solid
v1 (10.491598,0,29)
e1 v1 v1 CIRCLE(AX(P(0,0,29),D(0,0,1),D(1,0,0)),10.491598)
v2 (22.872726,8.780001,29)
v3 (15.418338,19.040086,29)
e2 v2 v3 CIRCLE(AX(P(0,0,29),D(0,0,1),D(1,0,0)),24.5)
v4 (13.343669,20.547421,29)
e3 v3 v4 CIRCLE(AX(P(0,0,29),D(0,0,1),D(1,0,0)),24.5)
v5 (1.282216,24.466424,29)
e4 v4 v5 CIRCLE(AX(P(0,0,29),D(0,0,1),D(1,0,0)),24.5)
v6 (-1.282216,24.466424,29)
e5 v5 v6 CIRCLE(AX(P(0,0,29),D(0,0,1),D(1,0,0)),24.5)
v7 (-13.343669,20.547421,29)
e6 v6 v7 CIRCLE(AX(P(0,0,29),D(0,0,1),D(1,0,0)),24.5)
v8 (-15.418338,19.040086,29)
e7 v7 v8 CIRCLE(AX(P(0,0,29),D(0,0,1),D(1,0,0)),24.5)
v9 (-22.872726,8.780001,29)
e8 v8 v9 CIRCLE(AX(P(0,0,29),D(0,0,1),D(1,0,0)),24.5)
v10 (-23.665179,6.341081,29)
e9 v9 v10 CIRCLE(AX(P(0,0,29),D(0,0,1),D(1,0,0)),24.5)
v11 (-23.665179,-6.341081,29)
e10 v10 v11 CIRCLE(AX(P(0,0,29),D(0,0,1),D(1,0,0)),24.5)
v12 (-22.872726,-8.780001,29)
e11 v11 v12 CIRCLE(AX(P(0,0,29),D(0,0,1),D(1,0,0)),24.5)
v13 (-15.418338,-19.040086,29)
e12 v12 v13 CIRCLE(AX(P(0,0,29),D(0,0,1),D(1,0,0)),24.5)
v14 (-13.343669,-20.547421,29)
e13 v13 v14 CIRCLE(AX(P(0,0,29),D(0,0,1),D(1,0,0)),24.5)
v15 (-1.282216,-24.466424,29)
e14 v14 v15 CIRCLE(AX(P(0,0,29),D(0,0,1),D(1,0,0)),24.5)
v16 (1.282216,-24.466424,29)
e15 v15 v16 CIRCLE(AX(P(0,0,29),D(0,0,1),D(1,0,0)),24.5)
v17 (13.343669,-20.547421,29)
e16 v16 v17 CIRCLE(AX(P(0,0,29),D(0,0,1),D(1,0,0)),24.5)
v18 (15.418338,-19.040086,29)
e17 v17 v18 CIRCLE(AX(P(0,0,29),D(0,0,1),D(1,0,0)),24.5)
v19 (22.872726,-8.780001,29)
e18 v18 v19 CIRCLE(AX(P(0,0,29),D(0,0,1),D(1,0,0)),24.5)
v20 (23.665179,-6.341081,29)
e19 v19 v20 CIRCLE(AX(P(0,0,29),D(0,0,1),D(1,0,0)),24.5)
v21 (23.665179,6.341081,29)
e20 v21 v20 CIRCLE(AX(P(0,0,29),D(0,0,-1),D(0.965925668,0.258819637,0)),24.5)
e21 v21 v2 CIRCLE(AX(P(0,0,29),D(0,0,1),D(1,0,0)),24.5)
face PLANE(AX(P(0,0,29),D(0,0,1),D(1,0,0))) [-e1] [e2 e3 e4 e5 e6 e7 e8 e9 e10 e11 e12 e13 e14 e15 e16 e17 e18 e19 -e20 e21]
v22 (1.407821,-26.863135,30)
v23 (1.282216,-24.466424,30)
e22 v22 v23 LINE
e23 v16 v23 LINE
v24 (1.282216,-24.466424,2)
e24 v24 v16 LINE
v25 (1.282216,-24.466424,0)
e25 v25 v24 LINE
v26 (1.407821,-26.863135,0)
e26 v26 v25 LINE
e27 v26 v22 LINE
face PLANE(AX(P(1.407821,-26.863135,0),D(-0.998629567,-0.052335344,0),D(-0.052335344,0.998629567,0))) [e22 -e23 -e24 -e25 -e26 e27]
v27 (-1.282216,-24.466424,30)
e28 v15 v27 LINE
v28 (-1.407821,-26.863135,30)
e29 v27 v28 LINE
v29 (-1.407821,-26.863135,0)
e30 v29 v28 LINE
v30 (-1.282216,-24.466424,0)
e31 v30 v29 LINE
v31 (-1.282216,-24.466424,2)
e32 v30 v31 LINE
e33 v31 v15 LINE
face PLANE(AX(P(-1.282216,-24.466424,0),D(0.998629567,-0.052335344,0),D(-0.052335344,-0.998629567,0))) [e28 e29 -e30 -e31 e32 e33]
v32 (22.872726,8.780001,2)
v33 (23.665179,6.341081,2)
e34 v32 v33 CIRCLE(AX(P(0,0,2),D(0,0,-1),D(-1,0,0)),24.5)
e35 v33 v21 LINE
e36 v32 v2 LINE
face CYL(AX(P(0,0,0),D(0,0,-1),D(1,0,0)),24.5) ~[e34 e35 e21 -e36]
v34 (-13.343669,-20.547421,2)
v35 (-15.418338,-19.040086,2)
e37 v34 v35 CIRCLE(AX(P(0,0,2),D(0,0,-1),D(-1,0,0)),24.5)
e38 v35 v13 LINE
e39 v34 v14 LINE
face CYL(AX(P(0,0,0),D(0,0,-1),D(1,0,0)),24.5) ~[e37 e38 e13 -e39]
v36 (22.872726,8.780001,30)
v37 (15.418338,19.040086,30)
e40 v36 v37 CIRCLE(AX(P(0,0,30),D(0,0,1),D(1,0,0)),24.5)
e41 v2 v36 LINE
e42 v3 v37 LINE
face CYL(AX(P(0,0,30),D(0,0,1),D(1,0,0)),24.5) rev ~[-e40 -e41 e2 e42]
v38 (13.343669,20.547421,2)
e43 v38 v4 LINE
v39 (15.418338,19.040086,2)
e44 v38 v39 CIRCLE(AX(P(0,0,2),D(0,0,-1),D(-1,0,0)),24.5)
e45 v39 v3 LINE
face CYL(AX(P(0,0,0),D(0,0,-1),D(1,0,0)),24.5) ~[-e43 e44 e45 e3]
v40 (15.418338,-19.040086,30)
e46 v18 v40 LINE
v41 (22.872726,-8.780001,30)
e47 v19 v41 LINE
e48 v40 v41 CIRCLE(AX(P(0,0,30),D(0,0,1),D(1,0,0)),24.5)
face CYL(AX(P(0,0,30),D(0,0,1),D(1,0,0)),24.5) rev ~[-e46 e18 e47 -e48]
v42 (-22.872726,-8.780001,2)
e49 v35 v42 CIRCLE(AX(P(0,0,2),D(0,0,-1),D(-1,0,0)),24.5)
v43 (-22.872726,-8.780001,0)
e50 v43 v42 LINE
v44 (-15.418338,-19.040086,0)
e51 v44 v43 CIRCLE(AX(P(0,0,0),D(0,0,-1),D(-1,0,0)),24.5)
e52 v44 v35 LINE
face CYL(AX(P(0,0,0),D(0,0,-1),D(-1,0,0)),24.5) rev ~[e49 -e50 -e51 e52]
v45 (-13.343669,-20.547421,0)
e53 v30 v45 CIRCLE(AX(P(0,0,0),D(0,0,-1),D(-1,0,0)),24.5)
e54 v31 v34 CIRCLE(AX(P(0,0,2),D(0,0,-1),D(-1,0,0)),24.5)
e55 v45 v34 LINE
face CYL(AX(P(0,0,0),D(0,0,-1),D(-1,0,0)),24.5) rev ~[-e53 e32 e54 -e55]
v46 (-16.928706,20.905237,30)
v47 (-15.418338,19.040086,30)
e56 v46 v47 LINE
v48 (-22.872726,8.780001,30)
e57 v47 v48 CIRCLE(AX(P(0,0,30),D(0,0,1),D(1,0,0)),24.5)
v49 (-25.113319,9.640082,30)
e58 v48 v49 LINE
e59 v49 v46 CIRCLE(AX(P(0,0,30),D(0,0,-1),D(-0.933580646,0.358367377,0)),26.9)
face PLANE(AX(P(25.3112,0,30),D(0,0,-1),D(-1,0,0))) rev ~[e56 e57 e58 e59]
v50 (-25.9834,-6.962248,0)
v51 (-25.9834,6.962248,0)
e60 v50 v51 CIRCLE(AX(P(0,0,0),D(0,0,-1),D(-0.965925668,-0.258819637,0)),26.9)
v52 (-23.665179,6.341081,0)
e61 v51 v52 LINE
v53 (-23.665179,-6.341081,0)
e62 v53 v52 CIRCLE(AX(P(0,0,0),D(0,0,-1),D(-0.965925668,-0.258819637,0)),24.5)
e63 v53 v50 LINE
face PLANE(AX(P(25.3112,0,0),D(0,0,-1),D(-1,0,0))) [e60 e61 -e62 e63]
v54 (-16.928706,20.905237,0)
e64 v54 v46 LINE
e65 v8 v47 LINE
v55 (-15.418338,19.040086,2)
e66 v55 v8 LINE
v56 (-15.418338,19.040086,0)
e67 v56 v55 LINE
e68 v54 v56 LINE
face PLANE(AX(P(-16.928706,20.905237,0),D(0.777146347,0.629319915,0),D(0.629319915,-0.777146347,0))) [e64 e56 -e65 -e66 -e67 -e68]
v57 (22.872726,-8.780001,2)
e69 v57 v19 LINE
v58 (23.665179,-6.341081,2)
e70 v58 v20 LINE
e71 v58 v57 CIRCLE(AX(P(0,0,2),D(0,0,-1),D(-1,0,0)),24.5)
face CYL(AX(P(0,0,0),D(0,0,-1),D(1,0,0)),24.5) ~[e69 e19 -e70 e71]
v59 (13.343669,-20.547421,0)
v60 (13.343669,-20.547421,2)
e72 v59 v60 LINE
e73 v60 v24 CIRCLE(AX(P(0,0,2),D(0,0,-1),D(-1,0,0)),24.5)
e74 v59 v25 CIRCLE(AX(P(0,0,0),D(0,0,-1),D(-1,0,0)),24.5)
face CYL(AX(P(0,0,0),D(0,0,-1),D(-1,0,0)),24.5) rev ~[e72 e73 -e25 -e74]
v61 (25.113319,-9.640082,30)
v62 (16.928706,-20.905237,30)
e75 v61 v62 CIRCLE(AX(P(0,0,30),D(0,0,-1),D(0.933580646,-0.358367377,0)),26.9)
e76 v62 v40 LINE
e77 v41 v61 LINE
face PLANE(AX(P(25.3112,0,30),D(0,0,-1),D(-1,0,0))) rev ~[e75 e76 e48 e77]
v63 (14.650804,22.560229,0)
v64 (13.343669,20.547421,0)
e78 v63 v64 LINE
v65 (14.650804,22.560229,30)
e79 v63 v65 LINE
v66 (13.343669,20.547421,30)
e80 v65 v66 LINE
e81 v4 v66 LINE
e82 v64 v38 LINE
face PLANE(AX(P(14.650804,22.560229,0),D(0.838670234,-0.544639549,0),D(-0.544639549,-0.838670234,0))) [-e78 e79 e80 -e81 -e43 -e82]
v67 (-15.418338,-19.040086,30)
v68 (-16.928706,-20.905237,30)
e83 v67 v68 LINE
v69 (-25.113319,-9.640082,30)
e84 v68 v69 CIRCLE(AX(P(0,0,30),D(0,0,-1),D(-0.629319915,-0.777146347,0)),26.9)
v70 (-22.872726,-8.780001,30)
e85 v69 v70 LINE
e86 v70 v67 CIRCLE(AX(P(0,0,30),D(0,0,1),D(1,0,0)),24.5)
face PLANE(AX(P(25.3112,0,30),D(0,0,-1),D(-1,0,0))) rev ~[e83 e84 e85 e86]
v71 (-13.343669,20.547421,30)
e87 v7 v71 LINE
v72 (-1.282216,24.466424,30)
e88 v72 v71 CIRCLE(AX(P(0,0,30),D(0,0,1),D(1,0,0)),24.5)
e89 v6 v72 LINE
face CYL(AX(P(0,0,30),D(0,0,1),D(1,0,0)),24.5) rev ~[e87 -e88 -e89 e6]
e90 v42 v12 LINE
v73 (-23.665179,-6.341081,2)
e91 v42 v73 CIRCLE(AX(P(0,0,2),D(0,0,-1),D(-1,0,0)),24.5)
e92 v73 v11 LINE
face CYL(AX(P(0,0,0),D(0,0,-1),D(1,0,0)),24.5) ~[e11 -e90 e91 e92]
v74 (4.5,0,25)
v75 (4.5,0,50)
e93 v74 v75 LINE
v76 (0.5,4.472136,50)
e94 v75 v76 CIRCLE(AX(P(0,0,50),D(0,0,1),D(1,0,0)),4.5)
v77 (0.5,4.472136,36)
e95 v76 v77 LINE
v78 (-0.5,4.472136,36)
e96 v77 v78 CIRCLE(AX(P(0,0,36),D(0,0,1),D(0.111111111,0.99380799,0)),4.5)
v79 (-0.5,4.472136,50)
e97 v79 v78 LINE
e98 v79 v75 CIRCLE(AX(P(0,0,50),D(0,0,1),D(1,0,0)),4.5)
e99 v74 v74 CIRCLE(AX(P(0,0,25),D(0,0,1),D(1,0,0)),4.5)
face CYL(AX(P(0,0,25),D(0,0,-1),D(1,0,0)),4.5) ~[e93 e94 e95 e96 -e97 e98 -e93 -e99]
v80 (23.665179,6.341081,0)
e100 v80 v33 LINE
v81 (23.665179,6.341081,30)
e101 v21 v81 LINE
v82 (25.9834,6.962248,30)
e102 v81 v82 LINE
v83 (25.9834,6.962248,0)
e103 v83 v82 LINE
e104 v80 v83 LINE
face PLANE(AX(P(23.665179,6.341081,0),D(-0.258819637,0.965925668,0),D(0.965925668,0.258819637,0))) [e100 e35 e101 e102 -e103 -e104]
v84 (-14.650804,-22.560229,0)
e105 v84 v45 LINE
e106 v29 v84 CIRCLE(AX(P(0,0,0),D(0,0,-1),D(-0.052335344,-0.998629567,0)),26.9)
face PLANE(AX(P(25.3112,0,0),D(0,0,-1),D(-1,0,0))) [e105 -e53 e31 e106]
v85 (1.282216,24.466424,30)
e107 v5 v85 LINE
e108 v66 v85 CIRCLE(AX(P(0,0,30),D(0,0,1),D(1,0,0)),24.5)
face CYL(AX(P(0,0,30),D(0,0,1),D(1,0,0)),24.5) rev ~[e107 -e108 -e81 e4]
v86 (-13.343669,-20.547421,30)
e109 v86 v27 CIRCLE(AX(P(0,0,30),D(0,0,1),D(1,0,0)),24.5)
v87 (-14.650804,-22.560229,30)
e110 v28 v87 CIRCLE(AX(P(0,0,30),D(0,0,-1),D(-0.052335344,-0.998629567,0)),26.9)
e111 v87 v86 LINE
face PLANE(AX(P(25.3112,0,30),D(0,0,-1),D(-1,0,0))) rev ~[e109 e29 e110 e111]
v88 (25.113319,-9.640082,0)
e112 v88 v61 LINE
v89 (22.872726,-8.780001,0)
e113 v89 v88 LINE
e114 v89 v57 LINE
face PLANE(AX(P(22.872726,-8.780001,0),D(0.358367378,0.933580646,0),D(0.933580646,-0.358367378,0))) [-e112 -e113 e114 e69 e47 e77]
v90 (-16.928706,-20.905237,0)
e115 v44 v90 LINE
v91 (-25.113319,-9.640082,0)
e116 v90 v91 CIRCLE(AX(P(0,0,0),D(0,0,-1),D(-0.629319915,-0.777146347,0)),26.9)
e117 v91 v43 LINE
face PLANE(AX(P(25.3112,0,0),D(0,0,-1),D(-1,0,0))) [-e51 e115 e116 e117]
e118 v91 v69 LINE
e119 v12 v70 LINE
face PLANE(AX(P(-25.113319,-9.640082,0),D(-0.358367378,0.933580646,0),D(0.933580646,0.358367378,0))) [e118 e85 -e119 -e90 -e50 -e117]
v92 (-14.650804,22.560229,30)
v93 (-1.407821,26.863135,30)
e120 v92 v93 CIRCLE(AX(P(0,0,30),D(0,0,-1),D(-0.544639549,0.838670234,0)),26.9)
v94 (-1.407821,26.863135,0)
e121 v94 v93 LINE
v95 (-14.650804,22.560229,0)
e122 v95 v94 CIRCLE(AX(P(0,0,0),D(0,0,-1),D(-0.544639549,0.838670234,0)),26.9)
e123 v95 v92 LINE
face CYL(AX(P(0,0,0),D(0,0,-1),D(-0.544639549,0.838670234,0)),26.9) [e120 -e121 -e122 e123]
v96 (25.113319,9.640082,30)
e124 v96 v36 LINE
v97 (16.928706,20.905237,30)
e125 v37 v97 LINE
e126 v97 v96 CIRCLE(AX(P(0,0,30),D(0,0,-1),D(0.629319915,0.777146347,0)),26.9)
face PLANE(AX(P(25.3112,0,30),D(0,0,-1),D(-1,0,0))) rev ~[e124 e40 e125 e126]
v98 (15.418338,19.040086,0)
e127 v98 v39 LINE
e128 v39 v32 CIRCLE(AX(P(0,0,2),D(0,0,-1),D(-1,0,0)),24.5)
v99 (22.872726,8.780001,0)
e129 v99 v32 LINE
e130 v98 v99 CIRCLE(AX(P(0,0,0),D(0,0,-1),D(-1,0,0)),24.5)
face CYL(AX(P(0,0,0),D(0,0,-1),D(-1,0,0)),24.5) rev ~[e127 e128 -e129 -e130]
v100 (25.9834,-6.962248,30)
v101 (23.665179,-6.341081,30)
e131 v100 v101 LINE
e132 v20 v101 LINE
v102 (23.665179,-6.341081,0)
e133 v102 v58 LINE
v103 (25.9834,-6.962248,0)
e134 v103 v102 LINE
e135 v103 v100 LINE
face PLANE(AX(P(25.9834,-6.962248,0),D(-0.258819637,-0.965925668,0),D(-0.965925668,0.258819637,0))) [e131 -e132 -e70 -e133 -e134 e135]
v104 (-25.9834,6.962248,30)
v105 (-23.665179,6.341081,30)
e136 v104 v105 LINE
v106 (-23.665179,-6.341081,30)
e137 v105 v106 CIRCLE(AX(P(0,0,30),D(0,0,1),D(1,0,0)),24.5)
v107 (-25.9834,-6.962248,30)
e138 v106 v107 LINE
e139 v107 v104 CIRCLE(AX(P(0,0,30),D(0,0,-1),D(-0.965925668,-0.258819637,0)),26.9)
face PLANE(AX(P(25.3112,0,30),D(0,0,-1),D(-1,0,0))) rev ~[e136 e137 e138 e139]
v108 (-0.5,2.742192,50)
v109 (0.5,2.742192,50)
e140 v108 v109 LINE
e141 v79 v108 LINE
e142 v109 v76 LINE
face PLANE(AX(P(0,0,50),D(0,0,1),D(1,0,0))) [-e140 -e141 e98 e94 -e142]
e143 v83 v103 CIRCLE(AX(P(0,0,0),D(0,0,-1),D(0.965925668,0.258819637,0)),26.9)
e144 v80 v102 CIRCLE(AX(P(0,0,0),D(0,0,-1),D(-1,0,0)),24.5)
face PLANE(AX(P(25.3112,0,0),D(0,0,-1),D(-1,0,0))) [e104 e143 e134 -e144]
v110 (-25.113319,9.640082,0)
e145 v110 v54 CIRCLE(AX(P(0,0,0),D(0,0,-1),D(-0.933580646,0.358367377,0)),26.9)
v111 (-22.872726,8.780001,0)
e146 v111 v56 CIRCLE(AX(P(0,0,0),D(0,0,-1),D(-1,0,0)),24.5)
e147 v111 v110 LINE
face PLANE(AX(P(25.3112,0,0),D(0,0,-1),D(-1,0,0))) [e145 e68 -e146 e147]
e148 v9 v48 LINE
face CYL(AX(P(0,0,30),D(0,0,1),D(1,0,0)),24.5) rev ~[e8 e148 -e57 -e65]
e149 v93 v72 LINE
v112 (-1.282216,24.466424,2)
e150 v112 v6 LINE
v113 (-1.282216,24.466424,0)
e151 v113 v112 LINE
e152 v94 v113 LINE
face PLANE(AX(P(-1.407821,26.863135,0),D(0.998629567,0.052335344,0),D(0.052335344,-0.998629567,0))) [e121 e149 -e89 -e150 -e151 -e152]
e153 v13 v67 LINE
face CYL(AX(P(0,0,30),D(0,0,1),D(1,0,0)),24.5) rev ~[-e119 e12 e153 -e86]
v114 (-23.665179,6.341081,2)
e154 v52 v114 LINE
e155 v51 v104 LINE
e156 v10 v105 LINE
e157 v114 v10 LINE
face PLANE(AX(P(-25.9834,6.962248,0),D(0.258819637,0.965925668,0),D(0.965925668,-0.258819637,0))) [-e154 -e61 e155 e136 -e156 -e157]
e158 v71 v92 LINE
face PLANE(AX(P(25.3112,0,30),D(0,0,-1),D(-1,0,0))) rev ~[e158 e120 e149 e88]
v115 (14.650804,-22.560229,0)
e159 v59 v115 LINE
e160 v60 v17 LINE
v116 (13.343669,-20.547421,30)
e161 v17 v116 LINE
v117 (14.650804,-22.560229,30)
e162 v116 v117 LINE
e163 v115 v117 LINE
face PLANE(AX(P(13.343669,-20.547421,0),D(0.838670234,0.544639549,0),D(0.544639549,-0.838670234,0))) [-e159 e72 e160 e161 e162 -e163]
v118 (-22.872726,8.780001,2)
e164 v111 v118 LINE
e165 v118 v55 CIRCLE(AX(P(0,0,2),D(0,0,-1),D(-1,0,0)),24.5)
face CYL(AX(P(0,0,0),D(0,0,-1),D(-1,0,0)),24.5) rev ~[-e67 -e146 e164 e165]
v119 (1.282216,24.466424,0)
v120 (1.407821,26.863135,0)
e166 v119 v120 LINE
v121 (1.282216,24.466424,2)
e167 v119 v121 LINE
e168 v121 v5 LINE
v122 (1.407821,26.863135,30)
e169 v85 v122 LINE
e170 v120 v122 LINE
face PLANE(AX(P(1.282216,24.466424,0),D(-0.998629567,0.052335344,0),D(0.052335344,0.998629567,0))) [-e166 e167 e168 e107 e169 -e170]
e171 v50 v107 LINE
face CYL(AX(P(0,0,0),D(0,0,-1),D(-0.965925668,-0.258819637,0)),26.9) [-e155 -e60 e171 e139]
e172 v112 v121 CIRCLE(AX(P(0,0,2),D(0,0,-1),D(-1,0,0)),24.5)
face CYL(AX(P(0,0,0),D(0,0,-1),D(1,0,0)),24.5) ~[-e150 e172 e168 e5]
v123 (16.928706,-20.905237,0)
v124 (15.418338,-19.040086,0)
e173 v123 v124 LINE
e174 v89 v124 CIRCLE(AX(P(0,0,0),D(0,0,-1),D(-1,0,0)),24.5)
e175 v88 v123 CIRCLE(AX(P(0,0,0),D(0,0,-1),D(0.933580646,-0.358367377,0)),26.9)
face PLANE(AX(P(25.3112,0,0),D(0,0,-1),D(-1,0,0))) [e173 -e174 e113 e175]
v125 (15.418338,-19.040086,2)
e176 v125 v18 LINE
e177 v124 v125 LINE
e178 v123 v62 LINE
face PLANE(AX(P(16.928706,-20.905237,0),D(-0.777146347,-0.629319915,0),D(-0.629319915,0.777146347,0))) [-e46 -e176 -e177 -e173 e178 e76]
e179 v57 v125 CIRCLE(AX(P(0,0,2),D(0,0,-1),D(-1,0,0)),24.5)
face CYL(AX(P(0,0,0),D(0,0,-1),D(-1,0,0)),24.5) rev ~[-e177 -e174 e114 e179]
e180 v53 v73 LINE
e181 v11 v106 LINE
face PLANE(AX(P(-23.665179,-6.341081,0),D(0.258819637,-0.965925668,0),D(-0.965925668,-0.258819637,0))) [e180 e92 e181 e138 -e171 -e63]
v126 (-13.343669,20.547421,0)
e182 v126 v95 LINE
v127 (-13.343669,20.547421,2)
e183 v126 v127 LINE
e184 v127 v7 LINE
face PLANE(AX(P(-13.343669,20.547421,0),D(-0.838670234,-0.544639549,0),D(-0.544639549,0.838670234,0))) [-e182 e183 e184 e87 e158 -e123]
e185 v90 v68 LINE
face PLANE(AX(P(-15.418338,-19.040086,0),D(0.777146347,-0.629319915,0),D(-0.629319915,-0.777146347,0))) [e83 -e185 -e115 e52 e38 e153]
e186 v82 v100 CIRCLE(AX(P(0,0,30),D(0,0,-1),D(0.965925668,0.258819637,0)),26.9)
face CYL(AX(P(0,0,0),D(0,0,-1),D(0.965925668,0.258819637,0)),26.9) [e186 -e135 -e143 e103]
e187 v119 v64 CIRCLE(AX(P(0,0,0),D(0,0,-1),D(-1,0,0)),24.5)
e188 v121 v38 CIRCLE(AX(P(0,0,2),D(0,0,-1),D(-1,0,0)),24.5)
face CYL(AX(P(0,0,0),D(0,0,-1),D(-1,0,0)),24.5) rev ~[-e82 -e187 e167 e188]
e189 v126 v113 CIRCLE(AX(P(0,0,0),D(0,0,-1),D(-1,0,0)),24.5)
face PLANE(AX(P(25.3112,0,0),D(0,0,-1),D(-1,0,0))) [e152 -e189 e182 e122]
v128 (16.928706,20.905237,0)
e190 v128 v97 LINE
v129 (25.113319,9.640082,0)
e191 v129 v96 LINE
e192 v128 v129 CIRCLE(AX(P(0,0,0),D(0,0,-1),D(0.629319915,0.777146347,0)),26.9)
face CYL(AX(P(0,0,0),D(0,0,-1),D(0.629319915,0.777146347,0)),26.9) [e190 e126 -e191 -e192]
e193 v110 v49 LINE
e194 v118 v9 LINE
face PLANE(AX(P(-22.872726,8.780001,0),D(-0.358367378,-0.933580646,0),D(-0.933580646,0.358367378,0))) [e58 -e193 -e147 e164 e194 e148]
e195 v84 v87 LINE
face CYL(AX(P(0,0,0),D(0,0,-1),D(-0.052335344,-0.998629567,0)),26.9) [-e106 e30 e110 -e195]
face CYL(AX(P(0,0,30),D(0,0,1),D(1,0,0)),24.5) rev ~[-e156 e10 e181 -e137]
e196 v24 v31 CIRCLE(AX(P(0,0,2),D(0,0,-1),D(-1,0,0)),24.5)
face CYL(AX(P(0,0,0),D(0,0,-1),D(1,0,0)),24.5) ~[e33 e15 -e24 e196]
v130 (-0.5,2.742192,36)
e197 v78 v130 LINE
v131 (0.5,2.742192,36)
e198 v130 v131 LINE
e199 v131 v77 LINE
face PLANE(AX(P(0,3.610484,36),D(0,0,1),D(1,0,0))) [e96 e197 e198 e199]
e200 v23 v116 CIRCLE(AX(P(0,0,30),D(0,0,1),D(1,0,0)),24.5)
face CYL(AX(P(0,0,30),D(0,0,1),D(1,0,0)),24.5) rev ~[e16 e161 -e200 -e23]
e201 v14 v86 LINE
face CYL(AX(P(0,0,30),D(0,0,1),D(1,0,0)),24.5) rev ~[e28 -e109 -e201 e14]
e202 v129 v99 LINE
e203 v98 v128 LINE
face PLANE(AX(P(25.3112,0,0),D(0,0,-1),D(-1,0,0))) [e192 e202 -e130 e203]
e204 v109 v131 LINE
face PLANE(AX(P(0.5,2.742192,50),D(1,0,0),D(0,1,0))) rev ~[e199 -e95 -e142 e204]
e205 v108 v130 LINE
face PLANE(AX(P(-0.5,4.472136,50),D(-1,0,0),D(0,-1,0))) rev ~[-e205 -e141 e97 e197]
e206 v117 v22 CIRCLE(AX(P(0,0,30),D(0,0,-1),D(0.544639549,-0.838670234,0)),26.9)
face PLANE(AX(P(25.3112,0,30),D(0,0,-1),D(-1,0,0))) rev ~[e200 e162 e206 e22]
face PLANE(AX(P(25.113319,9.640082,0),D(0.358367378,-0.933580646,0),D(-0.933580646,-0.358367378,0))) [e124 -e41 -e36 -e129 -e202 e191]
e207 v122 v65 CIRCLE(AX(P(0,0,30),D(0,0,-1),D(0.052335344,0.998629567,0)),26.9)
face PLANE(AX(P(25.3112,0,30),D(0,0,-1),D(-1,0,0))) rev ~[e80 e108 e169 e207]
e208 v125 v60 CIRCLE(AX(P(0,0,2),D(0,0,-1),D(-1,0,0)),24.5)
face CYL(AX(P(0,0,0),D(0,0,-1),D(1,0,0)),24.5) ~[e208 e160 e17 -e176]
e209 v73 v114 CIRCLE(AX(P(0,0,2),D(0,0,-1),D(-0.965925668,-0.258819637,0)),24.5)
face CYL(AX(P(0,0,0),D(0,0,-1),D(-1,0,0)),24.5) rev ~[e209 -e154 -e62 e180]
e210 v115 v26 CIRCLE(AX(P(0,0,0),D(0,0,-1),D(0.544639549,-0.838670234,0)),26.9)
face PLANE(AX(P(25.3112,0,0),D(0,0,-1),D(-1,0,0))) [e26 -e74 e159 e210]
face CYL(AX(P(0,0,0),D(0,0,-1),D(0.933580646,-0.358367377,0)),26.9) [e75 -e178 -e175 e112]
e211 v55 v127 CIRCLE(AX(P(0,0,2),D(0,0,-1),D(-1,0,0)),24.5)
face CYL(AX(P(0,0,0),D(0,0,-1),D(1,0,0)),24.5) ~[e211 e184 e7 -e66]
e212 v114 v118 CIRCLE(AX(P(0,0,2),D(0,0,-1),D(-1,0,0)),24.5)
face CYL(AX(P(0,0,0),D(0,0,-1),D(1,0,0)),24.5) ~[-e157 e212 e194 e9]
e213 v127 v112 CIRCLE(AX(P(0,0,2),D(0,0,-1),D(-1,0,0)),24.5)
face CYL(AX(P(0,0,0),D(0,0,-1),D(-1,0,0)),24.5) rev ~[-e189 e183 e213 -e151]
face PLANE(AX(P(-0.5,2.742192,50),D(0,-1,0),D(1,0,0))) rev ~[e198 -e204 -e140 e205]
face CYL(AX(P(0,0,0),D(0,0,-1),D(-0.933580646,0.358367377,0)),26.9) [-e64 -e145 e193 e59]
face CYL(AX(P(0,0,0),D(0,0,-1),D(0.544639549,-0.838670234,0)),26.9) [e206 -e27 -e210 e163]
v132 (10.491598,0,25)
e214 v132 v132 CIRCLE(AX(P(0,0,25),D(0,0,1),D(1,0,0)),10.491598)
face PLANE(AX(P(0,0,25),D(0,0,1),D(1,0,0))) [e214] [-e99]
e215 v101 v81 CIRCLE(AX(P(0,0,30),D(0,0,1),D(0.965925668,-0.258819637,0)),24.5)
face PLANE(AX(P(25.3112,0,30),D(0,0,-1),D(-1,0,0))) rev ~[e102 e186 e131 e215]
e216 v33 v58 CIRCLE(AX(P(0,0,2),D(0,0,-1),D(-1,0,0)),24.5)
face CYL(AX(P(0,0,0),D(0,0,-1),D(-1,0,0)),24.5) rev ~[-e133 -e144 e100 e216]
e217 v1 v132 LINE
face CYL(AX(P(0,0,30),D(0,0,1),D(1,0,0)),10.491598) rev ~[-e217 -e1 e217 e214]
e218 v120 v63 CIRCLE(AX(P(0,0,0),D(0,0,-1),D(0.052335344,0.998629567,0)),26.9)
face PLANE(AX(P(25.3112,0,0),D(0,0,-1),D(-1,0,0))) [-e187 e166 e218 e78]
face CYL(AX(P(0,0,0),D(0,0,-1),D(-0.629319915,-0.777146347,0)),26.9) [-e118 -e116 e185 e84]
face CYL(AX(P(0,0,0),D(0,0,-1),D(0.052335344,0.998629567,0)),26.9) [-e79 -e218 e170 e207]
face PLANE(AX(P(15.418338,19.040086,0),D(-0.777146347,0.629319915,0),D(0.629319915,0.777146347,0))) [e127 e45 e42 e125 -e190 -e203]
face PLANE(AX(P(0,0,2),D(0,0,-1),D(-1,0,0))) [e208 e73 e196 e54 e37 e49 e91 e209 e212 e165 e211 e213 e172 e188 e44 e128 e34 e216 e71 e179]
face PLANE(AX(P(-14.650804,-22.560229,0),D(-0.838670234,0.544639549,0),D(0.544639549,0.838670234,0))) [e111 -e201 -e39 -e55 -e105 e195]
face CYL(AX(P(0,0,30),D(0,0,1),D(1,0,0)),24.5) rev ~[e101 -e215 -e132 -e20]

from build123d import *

# Parameters (mm, degrees)
SKETCH1_R           = 24.5
BOSS_EXTRUDE1_DEPTH = 30
SKETCH2_R           = 10.491597787
CUT_EXTRUDE1_DEPTH  = 5
BOSS_EXTRUDE3_DEPTH = 30
SKETCH6_R           = 24.5
CUT_EXTRUDE2_DEPTH  = 2
SKETCH7_R           = 24.5
CUT_EXTRUDE4_DEPTH  = 1
SKETCH4_R           = 4.5
BOSS_EXTRUDE4_DEPTH = 25
CUT_EXTRUDE5_DEPTH  = 14


with BuildPart() as part:
    # Sketch1 → Boss-Extrude1 (new body)
    with BuildSketch(Plane.XY):
        Circle(SKETCH1_R)
    extrude(amount=BOSS_EXTRUDE1_DEPTH)

    # Sketch2 → Cut-Extrude1 (cut)
    with BuildSketch(Plane.XY.offset(30)):
        Circle(SKETCH2_R)
    extrude(amount=-CUT_EXTRUDE1_DEPTH, mode=Mode.SUBTRACT)

    # Sketch5 → Boss-Extrude3 (add)
    with BuildSketch(Plane(origin=(0, 0, 0), x_dir=(-1, 0, 0), z_dir=(0, 0, -1))):
        with BuildLine():
            ThreePointArc((-1.28221594, -24.466424387), (-7.570916362, -23.300884649), (-13.343668945, -20.54742074))
            Line((-13.343668945, -20.54742074), (-14.650803863, -22.560229302))
            ThreePointArc((-14.650803863, -22.560229302), (-8.312557149, -25.583420288), (-1.407820766, -26.863135347))
            Line((-1.407820766, -26.863135347), (-1.28221594, -24.466424387))
        make_face()
        with BuildLine():
            ThreePointArc((13.343668945, -20.54742074), (7.570916362, -23.300884649), (1.28221594, -24.466424387))
            Line((1.28221594, -24.466424387), (1.407820766, -26.863135347))
            ThreePointArc((1.407820766, -26.863135347), (8.312557149, -25.583420288), (14.650803863, -22.560229302))
            Line((14.650803863, -22.560229302), (13.343668945, -20.54742074))
        make_face()
        with BuildLine():
            ThreePointArc((22.872725828, -8.780000752), (19.820916362, -14.400738681), (15.418337917, -19.040085501))
            Line((15.418337917, -19.040085501), (16.928705712, -20.905236734))
            ThreePointArc((16.928705712, -20.905236734), (21.762557149, -15.811423287), (25.113319378, -9.640082458))
            Line((25.113319378, -9.640082458), (22.872725828, -8.780000752))
        make_face()
        with BuildLine():
            Line((25.983400462, 6.962248231), (23.665178859, 6.341081103))
            ThreePointArc((23.665178859, 6.341081103), (24.290398124, 3.19789915), (24.5, 0))
            ThreePointArc((24.5, 0), (24.290398124, -3.19789915), (23.665178859, -6.341081103))
            Line((23.665178859, -6.341081103), (25.983400462, -6.962248231))
            ThreePointArc((25.983400462, -6.962248231), (26.9, 0), (25.983400462, 6.962248231))
        make_face()
        with BuildLine():
            Line((16.928705712, 20.905236734), (15.418337917, 19.040085501))
            ThreePointArc((15.418337917, 19.040085501), (19.820916362, 14.400738681), (22.872725828, 8.780000752))
            Line((22.872725828, 8.780000752), (25.113319378, 9.640082458))
            ThreePointArc((25.113319378, 9.640082458), (21.762557149, 15.811423287), (16.928705712, 20.905236734))
        make_face()
        with BuildLine():
            Line((1.407820766, 26.863135347), (1.28221594, 24.466424387))
            ThreePointArc((1.28221594, 24.466424387), (7.570916362, 23.300884649), (13.343668945, 20.54742074))
            Line((13.343668945, 20.54742074), (14.650803863, 22.560229302))
            ThreePointArc((14.650803863, 22.560229302), (8.312557149, 25.583420288), (1.407820766, 26.863135347))
        make_face()
        with BuildLine():
            Line((-14.650803863, 22.560229302), (-13.343668945, 20.54742074))
            ThreePointArc((-13.343668945, 20.54742074), (-7.570916362, 23.300884649), (-1.28221594, 24.466424387))
            Line((-1.28221594, 24.466424387), (-1.407820766, 26.863135347))
            ThreePointArc((-1.407820766, 26.863135347), (-8.312557149, 25.583420288), (-14.650803863, 22.560229302))
        make_face()
        with BuildLine():
            Line((-25.113319378, 9.640082458), (-22.872725828, 8.780000752))
            ThreePointArc((-22.872725828, 8.780000752), (-19.820916362, 14.400738681), (-15.418337917, 19.040085501))
            Line((-15.418337917, 19.040085501), (-16.928705712, 20.905236734))
            ThreePointArc((-16.928705712, 20.905236734), (-21.762557149, 15.811423287), (-25.113319378, 9.640082458))
        make_face()
        with BuildLine():
            ThreePointArc((-23.665178859, -6.341081103), (-24.5, 0), (-23.665178859, 6.341081103))
            Line((-23.665178859, 6.341081103), (-25.983400462, 6.962248231))
            ThreePointArc((-25.983400462, 6.962248231), (-26.9, 0), (-25.983400462, -6.962248231))
            Line((-25.983400462, -6.962248231), (-23.665178859, -6.341081103))
        make_face()
        with BuildLine():
            ThreePointArc((-15.418337917, -19.040085501), (-19.820916362, -14.400738681), (-22.872725828, -8.780000752))
            Line((-22.872725828, -8.780000752), (-25.113319378, -9.640082458))
            ThreePointArc((-25.113319378, -9.640082458), (-21.762557149, -15.811423287), (-16.928705712, -20.905236734))
            Line((-16.928705712, -20.905236734), (-15.418337917, -19.040085501))
        make_face()
    extrude(amount=-BOSS_EXTRUDE3_DEPTH)

    # Sketch6 → Cut-Extrude2 (cut)
    with BuildSketch(Plane(origin=(0, 0, 0), x_dir=(-1, 0, 0), z_dir=(0, 0, -1))):
        Circle(SKETCH6_R)
    extrude(amount=-CUT_EXTRUDE2_DEPTH, mode=Mode.SUBTRACT)

    # Sketch7 → Cut-Extrude4 (cut)
    with BuildSketch(Plane.XY.offset(30)):
        Circle(SKETCH7_R)
    extrude(amount=-CUT_EXTRUDE4_DEPTH, mode=Mode.SUBTRACT)

    # Sketch4 → Boss-Extrude4 (add)
    with BuildSketch(Plane.XY.offset(25)):
        Circle(SKETCH4_R)
    extrude(amount=BOSS_EXTRUDE4_DEPTH)

    # Sketch8 → Cut-Extrude5 (cut)
    with BuildSketch(Plane.XY.offset(50)):
        with BuildLine():
            Line((-0.5, 2.742191979), (0.5, 2.742191979))
            Line((0.5, 2.742191979), (0.5, 4.472135955))
            ThreePointArc((0.5, 4.472135955), (0, 4.5), (-0.5, 4.472135955))
            Line((-0.5, 4.472135955), (-0.5, 2.742191979))
        make_face()
    extrude(amount=-CUT_EXTRUDE5_DEPTH, mode=Mode.SUBTRACT)


solid = part.part
